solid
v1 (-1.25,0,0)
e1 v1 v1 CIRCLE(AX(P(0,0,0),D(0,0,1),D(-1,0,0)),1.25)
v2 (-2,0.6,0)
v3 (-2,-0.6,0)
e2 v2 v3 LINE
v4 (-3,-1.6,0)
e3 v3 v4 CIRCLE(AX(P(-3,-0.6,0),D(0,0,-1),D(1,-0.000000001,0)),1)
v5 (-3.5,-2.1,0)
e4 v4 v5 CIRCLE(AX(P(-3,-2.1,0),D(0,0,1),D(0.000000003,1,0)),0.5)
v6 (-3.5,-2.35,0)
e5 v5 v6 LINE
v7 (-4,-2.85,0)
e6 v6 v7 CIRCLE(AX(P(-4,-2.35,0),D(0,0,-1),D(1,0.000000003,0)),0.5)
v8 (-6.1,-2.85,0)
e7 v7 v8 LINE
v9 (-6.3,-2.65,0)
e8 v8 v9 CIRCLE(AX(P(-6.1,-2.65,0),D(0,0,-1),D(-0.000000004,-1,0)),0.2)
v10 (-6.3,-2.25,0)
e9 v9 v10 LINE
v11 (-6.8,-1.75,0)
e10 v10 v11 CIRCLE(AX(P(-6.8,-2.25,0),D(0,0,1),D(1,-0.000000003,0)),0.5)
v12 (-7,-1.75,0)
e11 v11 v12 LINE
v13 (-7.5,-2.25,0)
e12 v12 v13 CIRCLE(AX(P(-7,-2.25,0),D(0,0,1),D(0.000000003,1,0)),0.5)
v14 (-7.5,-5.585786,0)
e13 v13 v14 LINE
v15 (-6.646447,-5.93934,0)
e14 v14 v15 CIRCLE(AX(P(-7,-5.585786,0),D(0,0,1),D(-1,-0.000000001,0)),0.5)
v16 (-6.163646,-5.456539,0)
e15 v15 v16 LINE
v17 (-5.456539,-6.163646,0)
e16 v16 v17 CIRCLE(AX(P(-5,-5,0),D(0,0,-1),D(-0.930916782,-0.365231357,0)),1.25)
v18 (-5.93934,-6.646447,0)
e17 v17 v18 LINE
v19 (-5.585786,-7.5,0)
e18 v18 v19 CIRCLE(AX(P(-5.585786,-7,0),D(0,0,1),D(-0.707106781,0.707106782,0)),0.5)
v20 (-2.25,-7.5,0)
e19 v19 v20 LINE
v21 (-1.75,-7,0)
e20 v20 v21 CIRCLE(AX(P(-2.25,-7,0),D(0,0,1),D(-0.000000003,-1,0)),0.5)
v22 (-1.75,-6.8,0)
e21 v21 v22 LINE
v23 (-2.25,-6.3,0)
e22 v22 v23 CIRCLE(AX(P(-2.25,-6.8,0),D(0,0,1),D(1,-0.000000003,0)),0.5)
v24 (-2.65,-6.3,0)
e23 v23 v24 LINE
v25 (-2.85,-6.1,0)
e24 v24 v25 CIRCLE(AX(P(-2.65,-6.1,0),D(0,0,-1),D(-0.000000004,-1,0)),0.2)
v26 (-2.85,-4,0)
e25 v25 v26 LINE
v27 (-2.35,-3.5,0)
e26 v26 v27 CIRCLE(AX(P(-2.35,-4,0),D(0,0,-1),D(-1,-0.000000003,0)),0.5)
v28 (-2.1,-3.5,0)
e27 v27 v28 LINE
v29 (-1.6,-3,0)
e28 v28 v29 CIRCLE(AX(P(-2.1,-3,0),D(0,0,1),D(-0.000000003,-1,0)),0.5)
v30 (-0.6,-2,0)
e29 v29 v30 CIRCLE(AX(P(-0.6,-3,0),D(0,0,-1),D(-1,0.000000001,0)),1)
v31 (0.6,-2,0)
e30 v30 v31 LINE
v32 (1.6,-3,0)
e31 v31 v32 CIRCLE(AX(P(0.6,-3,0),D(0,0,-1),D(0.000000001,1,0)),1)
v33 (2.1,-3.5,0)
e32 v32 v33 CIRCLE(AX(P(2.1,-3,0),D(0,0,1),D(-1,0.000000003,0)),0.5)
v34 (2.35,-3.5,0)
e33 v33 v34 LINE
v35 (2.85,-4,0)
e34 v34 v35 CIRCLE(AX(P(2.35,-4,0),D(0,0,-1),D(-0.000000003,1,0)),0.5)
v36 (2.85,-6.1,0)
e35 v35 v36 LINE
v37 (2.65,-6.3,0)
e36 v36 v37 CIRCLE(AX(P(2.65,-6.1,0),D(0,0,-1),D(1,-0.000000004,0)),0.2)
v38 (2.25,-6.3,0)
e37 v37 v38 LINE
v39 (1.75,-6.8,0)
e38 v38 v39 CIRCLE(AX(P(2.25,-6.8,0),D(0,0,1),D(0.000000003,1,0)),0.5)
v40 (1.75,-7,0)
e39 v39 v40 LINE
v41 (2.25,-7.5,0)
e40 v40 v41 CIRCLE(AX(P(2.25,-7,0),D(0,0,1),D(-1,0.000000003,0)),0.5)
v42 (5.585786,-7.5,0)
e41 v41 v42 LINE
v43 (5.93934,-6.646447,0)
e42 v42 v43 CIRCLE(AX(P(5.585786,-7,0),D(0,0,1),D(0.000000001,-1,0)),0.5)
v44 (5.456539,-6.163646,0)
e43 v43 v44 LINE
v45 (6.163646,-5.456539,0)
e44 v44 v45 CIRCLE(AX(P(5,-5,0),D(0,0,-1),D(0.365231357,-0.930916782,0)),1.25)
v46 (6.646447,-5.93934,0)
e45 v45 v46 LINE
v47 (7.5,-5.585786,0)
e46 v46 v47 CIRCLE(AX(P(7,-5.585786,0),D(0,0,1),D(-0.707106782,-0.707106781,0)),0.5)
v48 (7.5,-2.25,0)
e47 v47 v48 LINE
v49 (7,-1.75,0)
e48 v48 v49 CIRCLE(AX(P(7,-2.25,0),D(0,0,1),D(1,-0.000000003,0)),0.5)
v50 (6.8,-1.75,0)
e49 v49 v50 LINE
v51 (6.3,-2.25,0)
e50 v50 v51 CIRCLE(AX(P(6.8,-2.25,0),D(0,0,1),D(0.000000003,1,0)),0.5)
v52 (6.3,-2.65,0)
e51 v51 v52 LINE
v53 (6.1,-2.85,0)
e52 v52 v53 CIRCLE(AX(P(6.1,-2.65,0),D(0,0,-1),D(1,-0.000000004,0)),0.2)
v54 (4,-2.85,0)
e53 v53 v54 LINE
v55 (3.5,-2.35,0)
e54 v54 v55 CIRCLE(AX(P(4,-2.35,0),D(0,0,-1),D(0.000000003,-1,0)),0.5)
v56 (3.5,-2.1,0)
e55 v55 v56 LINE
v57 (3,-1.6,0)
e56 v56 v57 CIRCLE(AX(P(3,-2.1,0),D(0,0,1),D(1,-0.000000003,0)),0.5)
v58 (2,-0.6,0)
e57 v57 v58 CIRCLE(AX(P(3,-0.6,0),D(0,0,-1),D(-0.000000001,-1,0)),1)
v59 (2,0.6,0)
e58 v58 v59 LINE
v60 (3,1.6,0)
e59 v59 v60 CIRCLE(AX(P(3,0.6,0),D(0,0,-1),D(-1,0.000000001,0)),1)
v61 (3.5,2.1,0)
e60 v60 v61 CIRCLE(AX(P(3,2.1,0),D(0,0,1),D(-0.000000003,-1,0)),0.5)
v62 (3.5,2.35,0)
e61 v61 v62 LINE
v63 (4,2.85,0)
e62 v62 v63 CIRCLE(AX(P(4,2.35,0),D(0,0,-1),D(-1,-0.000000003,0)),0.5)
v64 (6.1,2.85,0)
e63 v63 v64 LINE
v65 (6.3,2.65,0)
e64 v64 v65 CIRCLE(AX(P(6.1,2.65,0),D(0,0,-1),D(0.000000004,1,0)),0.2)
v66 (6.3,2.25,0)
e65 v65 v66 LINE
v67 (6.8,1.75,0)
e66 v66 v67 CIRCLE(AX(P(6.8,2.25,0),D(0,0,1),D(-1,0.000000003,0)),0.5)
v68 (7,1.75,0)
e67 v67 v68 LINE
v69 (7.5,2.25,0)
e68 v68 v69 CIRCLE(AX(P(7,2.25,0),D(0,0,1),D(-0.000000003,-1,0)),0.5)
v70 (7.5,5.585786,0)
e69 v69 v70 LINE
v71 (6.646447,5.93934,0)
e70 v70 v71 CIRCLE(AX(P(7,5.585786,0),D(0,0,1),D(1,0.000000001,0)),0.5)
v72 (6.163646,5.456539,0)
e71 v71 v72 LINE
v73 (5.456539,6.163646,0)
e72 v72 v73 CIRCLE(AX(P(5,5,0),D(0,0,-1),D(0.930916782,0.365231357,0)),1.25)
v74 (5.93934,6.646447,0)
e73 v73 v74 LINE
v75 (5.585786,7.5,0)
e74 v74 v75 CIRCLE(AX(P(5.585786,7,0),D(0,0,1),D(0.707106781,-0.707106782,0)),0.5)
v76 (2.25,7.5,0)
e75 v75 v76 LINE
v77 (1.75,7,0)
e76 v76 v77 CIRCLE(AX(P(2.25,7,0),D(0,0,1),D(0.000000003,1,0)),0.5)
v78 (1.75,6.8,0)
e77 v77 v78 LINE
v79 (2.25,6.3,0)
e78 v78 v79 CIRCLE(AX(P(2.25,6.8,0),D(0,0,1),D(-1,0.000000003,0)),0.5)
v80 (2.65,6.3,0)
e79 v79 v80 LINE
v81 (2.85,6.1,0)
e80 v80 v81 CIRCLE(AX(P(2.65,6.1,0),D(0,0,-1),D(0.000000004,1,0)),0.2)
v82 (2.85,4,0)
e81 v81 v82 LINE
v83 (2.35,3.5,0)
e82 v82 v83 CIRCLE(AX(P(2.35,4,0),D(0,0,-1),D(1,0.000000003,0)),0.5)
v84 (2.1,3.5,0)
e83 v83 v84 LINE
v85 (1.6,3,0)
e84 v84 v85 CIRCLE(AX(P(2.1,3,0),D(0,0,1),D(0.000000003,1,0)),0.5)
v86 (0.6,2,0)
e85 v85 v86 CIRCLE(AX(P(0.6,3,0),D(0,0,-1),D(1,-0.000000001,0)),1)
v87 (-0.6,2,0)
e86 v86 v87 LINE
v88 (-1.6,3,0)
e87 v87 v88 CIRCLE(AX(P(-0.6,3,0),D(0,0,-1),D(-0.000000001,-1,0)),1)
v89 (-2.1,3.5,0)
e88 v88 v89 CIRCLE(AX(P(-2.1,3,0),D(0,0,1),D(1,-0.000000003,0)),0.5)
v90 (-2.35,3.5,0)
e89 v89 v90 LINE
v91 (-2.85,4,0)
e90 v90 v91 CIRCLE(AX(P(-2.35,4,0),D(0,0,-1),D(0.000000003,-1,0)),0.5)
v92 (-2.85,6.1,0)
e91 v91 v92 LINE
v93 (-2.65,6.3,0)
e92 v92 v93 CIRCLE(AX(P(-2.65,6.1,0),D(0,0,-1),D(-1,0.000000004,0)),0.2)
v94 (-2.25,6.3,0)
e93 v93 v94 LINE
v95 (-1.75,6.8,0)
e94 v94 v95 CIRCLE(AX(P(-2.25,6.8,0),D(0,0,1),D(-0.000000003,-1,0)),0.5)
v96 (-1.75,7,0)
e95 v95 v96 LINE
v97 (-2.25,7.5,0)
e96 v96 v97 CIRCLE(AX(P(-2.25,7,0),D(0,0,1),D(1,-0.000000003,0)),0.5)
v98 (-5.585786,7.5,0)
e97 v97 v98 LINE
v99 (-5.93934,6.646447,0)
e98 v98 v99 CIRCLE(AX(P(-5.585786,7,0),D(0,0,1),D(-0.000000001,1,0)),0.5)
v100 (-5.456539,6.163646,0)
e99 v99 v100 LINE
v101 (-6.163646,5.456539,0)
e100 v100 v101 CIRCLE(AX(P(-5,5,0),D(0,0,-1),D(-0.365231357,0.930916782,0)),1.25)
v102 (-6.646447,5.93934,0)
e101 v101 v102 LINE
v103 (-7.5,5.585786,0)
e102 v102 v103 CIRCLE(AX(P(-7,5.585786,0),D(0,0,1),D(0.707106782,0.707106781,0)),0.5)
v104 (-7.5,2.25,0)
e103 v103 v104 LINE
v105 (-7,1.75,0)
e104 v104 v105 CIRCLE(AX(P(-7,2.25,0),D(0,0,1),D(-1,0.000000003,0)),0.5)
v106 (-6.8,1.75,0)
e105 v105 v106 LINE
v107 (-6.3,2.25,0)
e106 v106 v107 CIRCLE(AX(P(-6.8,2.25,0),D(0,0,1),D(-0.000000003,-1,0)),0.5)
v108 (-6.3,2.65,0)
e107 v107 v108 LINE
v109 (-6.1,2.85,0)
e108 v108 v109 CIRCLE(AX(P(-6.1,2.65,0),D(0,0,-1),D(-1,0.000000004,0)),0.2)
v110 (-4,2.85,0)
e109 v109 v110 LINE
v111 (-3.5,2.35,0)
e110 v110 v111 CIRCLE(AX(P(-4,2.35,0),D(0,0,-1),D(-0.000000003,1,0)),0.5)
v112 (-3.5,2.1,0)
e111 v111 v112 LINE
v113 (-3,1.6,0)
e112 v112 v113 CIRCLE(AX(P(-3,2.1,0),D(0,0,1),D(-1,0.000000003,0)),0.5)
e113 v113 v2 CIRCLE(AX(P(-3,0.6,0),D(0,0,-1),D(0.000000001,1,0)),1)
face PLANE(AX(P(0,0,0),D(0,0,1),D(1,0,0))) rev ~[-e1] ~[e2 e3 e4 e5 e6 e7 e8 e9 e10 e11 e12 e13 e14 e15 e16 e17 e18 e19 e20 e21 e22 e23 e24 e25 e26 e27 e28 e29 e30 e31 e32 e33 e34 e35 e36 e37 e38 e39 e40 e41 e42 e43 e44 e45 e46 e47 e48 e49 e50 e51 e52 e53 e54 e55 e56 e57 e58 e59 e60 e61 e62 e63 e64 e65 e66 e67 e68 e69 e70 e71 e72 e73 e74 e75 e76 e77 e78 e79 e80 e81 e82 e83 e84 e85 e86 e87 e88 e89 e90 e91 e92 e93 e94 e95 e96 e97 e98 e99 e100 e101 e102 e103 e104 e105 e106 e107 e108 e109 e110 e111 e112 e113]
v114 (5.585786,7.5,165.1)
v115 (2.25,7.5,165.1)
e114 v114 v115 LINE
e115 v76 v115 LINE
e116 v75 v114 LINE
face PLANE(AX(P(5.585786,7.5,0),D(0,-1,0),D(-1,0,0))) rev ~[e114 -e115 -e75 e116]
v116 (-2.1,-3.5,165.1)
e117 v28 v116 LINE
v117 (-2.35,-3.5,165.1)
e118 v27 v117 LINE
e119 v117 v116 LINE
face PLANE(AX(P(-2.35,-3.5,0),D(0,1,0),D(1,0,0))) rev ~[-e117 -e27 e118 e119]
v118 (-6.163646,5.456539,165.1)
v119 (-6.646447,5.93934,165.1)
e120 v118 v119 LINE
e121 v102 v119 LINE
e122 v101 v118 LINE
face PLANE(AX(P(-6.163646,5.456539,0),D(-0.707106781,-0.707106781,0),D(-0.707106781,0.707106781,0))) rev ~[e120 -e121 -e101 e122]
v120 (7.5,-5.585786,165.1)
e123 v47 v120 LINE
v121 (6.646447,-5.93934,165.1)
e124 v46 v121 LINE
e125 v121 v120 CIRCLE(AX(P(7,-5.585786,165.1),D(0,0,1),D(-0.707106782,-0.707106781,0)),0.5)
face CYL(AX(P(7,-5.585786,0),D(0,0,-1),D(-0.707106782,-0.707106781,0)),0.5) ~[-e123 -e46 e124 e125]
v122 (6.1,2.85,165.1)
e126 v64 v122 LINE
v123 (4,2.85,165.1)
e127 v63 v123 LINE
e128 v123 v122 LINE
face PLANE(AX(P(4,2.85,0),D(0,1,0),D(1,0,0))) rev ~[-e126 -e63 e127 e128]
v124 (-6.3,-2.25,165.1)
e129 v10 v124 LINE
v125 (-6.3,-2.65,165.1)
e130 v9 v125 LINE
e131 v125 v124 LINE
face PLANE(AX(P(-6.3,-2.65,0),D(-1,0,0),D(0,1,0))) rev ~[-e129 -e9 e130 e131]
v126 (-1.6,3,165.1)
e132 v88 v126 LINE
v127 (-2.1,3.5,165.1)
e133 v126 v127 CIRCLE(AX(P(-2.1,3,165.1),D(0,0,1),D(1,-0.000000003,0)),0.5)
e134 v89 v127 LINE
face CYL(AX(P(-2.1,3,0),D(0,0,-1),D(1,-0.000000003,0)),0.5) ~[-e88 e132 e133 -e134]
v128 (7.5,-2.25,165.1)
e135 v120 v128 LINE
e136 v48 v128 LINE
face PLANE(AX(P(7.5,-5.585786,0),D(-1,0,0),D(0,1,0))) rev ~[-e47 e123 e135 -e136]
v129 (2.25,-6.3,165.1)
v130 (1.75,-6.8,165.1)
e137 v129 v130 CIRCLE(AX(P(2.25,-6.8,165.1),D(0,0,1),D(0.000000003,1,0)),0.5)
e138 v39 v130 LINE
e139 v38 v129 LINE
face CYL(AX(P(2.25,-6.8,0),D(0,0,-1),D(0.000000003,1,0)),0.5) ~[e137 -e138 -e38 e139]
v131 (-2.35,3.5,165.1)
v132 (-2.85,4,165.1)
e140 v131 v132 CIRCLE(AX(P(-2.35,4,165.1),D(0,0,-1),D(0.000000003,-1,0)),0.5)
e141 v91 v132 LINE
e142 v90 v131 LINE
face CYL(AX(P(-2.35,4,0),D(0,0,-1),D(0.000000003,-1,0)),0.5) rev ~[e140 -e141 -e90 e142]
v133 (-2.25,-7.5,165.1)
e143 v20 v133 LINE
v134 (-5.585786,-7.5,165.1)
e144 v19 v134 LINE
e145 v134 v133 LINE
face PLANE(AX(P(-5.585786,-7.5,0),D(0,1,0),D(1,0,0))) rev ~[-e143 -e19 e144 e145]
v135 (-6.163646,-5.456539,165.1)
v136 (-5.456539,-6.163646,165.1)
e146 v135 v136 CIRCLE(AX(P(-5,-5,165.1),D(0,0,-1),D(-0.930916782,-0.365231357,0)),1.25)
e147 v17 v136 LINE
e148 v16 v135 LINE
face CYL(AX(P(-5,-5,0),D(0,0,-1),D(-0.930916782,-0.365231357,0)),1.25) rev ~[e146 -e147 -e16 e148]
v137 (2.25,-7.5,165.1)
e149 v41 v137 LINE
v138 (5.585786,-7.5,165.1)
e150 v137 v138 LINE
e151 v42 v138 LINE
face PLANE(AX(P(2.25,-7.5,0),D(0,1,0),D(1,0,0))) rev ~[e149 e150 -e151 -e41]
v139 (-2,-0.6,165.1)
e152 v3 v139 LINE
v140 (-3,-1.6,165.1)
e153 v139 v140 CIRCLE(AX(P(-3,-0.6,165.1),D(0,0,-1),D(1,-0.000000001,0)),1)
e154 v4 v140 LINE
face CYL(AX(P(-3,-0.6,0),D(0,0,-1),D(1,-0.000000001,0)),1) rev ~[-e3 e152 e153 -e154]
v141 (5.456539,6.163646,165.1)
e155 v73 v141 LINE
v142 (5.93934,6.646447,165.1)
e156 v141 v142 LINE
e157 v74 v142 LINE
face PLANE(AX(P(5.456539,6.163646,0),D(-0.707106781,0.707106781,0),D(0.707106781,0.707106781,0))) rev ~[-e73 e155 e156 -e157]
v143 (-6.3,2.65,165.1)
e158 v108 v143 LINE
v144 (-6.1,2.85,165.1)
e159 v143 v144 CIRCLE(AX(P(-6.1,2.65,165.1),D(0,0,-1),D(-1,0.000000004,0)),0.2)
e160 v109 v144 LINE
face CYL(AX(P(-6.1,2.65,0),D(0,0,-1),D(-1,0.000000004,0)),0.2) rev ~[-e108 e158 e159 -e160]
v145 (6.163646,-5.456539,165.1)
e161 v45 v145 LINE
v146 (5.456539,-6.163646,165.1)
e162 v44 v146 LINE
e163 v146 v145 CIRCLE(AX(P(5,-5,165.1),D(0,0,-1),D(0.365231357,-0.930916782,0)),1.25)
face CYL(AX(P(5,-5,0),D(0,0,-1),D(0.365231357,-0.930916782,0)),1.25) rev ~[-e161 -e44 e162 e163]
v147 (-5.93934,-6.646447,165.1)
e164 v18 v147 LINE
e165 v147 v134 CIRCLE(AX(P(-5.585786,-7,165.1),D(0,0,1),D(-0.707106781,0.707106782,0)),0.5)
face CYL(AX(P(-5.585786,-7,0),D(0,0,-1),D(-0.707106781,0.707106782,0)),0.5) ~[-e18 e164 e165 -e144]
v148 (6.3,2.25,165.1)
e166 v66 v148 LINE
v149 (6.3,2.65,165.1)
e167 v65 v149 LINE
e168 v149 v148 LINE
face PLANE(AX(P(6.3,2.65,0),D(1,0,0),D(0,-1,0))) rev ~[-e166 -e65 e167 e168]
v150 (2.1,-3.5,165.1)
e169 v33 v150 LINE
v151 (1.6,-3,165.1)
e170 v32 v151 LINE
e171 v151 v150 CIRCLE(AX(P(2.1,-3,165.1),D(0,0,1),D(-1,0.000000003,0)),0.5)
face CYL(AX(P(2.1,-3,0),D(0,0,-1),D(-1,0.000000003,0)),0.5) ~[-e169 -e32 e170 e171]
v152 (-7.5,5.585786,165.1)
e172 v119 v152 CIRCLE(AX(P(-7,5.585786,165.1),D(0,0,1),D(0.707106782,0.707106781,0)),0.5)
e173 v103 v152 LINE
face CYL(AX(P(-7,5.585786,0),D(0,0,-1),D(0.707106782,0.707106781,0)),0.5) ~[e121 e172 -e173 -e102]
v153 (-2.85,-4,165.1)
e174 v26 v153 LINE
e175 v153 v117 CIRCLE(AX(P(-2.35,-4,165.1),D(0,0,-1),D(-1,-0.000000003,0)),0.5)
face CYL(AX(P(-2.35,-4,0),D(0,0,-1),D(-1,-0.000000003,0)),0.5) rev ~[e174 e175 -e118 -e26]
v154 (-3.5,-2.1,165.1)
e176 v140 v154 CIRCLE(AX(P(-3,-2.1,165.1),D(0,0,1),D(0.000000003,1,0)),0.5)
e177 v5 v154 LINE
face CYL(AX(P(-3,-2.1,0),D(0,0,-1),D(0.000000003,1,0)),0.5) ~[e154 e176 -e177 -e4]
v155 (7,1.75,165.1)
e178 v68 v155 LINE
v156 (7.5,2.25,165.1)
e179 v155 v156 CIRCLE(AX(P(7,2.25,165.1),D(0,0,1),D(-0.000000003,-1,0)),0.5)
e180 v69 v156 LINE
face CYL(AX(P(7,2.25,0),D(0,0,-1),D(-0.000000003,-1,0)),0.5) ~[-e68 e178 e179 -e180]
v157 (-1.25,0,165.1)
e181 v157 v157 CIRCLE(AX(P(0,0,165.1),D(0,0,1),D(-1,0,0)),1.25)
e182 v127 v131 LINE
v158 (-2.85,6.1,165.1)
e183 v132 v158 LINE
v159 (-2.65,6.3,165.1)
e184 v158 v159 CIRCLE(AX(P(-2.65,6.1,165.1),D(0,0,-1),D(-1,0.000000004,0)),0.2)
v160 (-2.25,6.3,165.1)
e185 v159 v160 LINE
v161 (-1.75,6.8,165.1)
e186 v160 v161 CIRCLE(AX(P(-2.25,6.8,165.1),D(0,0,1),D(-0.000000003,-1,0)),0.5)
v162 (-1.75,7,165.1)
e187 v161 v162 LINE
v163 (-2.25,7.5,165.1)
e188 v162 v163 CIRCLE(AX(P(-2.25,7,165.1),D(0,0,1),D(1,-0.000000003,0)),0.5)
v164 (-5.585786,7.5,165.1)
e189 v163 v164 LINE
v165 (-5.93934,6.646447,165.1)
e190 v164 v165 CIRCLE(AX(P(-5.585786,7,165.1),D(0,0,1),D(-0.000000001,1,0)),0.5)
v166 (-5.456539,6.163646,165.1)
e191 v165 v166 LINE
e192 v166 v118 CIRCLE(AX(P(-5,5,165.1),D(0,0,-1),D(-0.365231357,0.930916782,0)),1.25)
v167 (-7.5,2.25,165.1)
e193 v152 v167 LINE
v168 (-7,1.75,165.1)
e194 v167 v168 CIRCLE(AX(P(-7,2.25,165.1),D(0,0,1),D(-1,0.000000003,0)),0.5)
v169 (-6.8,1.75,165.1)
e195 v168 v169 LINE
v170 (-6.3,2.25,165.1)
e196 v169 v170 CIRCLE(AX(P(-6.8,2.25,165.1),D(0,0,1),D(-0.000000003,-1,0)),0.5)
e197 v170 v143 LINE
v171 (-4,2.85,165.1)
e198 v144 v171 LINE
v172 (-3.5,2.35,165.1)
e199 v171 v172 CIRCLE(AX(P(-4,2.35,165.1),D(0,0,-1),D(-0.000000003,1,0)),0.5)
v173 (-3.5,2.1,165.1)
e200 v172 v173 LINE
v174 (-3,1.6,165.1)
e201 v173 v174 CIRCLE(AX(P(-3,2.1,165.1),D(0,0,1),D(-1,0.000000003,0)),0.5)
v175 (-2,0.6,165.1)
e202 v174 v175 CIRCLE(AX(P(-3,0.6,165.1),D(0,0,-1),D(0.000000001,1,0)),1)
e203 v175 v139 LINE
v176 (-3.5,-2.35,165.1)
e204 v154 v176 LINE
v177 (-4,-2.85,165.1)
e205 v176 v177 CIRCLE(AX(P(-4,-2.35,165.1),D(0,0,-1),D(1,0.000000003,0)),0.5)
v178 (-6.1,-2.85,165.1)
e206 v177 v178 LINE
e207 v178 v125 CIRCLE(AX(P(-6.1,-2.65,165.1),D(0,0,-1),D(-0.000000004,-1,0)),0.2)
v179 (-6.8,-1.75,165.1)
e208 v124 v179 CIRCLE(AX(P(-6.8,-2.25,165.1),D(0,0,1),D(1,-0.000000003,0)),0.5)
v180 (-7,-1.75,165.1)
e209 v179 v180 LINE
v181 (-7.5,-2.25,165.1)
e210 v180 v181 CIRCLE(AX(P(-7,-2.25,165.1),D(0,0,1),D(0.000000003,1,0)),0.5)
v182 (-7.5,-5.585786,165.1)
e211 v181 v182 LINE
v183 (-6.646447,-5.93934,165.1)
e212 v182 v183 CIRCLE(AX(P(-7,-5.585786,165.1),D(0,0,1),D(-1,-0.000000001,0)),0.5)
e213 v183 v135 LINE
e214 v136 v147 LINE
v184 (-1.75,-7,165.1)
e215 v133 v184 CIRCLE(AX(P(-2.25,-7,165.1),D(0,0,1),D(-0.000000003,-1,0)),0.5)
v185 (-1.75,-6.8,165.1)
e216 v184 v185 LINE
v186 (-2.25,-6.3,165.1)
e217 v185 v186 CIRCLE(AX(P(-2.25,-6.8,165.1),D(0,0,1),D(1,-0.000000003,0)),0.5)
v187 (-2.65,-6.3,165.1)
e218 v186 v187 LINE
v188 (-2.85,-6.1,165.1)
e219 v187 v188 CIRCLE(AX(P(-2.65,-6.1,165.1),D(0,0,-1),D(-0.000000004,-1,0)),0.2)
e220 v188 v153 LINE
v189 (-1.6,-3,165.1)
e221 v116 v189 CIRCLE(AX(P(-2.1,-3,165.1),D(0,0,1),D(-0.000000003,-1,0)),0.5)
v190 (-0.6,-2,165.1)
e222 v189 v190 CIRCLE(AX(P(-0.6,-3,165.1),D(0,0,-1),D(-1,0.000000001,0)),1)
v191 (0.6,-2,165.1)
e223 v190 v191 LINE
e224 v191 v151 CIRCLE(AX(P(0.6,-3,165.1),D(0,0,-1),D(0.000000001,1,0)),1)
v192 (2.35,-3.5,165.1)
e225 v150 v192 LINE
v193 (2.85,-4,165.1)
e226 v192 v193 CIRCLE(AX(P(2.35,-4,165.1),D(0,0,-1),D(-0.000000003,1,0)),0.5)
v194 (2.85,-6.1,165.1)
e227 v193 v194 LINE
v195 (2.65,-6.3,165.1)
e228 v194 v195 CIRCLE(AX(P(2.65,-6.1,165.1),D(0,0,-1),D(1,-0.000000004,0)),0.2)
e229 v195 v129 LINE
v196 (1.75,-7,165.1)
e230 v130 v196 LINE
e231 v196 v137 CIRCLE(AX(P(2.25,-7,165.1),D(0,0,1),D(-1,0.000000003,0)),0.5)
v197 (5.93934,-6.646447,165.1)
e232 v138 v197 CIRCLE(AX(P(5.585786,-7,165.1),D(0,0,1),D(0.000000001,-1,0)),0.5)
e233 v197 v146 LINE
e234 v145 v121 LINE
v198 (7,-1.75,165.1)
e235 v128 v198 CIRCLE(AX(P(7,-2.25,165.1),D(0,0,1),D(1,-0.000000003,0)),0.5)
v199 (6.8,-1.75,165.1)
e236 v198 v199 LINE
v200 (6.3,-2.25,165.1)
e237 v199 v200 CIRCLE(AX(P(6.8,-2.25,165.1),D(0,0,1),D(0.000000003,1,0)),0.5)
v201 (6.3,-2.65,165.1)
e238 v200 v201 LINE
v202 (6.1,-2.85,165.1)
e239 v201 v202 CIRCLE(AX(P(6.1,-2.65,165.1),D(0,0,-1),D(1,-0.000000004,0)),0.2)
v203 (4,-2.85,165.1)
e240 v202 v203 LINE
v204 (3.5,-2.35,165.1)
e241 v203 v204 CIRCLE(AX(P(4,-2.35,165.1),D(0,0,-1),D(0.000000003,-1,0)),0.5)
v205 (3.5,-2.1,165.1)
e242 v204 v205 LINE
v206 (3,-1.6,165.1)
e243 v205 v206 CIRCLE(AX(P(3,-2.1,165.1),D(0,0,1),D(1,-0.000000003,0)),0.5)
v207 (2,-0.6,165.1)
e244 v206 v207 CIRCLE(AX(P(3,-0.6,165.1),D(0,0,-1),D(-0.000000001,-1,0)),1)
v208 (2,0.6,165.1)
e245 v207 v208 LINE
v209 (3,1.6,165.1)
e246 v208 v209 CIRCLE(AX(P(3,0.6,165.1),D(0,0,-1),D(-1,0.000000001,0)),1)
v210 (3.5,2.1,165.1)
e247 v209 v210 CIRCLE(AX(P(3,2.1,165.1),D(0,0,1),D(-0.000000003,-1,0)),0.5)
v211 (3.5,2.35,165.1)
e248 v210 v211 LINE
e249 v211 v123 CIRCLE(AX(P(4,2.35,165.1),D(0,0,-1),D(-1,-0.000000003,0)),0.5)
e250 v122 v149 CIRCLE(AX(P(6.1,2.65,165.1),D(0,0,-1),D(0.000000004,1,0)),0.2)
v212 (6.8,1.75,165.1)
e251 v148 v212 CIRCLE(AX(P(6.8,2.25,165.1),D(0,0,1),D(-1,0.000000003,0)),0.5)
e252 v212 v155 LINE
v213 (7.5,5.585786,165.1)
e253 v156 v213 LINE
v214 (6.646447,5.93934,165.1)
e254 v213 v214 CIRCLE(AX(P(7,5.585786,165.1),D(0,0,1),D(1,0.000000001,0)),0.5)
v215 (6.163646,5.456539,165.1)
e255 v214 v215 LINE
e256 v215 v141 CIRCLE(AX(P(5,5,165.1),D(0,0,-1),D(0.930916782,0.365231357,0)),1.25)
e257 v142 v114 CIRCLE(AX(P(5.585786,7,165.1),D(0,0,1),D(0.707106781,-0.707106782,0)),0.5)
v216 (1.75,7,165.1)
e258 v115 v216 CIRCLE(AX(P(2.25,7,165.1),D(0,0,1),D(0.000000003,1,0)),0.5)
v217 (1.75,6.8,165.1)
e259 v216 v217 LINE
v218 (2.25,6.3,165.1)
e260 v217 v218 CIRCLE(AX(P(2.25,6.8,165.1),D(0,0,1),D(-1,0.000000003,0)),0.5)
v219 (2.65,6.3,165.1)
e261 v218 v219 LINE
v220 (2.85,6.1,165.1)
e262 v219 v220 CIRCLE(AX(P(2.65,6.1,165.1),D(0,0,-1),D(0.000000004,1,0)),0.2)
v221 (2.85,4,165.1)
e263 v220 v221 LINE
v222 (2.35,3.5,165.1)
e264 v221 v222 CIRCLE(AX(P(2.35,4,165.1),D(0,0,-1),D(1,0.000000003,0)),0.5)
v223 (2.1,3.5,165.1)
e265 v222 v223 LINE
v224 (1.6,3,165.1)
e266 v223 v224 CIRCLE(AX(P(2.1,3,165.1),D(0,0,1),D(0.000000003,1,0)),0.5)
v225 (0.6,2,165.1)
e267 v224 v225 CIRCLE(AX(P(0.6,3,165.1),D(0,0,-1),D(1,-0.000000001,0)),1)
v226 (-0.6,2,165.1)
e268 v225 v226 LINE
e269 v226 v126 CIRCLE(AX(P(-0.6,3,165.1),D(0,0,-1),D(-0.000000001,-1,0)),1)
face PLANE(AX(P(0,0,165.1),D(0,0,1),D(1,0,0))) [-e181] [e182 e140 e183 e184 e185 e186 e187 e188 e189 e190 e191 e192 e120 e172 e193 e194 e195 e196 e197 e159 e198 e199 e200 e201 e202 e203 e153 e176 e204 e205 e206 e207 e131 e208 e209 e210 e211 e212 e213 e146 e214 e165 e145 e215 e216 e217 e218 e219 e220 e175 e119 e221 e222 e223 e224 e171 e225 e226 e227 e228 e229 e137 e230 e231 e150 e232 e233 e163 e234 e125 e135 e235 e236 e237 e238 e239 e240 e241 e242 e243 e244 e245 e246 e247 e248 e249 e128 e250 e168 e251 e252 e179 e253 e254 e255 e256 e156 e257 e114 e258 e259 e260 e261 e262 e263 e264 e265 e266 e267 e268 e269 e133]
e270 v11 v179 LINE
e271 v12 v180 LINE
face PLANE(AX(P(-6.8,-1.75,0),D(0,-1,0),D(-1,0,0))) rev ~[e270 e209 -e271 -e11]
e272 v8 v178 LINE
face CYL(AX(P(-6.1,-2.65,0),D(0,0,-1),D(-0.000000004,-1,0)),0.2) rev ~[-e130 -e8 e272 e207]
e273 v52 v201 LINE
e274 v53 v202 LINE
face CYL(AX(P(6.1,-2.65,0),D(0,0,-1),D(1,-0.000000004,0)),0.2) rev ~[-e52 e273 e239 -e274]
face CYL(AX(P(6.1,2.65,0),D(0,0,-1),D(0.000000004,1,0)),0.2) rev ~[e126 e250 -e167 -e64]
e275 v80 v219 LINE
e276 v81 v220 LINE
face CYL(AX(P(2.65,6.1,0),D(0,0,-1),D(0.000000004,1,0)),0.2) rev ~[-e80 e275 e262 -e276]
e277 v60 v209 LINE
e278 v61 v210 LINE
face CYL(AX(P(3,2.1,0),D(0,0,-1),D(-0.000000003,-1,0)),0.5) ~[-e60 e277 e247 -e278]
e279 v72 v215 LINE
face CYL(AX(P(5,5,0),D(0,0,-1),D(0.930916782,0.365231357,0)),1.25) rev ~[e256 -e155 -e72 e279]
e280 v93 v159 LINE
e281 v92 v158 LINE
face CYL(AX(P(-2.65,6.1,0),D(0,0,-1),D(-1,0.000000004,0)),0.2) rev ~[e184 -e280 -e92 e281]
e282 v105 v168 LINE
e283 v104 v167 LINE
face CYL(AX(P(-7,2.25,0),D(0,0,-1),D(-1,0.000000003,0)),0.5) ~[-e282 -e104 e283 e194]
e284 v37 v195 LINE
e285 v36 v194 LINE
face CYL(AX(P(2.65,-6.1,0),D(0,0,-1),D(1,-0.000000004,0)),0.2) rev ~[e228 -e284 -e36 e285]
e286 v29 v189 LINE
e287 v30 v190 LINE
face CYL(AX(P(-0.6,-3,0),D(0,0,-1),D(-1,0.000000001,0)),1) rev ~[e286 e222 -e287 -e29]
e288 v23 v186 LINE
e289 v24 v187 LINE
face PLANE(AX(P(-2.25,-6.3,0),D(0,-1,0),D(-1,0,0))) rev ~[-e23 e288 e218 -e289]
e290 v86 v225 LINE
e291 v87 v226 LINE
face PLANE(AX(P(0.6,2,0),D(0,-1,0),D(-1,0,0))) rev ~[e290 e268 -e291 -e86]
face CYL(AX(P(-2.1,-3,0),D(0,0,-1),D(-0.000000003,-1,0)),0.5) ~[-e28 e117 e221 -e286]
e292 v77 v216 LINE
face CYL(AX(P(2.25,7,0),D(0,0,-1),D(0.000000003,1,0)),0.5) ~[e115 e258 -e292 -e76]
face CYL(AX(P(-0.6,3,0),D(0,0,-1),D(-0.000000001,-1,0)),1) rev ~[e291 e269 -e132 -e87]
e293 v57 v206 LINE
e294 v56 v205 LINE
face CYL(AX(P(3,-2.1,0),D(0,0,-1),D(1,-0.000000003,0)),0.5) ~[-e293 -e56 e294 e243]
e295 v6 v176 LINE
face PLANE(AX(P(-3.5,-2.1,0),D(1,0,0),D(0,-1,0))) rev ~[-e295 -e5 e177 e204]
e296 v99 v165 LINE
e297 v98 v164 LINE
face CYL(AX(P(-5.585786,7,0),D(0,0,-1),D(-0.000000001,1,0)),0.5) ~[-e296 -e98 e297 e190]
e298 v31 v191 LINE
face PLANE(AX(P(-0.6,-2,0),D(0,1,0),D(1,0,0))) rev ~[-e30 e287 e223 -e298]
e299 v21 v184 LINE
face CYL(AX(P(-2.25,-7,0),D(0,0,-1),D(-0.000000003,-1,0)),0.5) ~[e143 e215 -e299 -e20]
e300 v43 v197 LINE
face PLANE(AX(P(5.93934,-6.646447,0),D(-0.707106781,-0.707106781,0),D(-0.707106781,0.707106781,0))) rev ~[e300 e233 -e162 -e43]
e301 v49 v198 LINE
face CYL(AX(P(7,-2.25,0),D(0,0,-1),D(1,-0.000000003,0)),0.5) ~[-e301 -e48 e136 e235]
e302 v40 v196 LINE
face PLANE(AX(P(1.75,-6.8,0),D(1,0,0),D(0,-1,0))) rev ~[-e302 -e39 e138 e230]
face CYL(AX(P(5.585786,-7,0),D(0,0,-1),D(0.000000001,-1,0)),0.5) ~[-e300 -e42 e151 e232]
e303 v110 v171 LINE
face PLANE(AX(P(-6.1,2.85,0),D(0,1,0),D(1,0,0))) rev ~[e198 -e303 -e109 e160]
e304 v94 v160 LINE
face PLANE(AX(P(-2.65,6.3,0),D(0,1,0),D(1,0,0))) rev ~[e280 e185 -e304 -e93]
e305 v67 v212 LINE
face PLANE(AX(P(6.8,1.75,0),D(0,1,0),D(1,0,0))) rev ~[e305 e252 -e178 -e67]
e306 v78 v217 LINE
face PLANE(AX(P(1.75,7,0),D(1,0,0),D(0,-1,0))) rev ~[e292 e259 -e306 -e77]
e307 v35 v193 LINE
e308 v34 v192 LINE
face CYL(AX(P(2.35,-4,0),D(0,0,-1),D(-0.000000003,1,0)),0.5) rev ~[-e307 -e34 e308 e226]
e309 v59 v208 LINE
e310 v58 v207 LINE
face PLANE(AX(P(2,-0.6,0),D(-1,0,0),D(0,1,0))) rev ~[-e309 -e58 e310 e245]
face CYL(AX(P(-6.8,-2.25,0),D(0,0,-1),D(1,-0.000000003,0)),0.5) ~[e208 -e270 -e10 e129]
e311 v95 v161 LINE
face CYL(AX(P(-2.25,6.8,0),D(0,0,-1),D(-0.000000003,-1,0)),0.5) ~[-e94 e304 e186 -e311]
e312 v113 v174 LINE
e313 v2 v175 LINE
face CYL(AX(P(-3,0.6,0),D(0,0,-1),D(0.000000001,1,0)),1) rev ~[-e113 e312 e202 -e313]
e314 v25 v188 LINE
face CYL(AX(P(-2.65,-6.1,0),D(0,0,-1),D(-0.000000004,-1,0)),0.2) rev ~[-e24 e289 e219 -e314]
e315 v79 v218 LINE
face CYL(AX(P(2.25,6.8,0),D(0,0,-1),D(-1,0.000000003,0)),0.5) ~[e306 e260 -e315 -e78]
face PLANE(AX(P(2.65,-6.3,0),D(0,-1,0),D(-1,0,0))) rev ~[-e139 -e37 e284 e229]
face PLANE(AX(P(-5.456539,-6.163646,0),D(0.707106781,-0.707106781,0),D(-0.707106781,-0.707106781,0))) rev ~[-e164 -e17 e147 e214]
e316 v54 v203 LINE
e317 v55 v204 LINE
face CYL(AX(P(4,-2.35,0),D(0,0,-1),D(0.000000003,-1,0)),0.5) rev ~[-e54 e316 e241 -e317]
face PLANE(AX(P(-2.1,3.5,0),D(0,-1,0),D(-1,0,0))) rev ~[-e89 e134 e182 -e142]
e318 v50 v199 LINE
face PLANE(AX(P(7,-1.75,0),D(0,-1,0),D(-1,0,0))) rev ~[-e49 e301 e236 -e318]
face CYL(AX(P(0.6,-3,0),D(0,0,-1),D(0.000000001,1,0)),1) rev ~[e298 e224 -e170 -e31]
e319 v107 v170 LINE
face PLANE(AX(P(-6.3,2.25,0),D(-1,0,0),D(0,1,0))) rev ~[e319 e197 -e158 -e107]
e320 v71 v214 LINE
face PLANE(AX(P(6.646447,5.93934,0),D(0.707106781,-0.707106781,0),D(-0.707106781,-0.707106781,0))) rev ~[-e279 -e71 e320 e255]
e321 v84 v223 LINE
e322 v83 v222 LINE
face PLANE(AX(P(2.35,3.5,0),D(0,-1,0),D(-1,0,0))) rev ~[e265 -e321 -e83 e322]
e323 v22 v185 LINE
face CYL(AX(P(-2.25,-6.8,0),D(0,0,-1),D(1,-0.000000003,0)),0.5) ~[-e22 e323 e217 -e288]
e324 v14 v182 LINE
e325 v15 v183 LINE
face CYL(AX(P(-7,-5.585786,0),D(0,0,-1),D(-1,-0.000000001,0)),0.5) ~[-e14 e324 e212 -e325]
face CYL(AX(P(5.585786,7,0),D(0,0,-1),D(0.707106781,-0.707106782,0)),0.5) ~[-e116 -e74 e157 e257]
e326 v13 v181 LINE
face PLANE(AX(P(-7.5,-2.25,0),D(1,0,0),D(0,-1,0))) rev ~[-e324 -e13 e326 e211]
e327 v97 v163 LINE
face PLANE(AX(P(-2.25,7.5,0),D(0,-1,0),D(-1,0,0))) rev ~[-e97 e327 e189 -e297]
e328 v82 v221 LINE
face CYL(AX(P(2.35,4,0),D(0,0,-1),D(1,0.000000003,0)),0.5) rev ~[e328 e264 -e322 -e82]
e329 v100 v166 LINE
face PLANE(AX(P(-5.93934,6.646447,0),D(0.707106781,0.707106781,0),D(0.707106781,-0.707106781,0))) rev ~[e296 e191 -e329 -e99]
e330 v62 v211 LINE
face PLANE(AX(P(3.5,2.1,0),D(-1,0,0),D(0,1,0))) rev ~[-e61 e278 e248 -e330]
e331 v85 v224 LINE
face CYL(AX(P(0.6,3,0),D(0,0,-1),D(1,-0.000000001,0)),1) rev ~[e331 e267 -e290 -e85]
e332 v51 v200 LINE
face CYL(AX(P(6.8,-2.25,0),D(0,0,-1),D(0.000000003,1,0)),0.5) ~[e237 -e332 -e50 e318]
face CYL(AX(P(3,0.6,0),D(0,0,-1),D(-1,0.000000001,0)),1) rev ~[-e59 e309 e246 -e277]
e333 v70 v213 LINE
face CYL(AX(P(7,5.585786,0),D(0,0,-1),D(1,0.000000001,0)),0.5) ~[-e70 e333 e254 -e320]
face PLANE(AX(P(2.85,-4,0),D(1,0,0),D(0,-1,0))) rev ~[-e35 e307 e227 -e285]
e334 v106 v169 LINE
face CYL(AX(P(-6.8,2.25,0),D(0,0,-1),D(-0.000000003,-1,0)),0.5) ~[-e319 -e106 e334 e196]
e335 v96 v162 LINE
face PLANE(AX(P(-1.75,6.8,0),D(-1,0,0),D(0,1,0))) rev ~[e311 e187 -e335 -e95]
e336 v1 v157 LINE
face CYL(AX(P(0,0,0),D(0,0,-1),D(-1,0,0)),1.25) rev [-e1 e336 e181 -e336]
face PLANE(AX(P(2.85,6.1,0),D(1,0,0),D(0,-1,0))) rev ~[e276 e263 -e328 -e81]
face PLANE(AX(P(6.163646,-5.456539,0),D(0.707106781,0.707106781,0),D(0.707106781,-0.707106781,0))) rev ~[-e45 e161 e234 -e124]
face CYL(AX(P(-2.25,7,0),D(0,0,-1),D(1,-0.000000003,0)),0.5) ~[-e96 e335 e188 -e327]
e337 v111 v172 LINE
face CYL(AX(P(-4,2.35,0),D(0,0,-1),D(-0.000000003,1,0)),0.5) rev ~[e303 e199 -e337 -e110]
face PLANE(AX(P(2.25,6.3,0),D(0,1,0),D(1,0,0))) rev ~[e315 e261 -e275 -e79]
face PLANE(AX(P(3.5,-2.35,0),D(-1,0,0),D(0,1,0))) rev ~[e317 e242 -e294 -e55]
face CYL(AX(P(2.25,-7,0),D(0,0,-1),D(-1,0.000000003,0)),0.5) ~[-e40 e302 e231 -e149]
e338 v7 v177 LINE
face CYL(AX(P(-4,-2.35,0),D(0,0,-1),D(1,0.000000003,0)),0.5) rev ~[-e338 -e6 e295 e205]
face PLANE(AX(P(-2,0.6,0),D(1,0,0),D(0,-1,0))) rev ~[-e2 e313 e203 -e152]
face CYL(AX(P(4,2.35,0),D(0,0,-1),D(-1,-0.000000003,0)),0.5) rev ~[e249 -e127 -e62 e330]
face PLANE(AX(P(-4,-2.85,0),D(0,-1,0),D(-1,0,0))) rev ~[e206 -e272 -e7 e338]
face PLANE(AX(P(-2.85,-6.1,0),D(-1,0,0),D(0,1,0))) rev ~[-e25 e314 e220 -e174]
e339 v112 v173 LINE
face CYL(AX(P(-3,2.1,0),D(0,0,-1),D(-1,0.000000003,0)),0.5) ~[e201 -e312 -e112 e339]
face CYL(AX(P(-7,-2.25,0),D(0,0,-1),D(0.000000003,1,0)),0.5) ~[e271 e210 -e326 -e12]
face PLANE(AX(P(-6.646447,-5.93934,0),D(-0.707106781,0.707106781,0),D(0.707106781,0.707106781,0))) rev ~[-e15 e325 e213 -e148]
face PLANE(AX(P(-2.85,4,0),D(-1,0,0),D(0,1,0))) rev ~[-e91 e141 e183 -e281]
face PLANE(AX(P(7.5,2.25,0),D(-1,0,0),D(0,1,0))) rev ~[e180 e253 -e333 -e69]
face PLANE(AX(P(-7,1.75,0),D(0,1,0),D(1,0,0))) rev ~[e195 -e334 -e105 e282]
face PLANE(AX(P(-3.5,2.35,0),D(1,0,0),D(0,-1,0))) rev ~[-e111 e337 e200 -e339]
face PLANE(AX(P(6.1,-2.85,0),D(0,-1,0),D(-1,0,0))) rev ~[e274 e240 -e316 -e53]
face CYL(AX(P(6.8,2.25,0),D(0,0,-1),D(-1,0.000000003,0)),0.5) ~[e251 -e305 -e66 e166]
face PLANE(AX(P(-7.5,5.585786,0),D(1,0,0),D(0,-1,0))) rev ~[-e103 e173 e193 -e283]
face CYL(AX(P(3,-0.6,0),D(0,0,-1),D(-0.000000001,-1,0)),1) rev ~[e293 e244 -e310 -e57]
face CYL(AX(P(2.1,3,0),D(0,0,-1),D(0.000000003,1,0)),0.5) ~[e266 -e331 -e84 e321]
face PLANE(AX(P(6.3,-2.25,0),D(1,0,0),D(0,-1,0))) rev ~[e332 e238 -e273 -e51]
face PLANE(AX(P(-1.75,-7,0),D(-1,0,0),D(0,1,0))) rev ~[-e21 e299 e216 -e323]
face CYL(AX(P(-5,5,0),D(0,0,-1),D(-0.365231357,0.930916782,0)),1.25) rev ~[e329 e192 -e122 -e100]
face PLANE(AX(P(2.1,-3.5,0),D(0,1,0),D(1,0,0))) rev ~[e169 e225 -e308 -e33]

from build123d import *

# Parameters (mm, degrees)
SKETCH1_R           = 1.25
BOSS_EXTRUDE1_DEPTH = 165.1


with BuildPart() as part:
    # Sketch1 → Boss-Extrude1 (new body)
    with BuildSketch(Plane.XY):
        with BuildLine():
            Line((6.646446609, 5.939339828), (6.163645978, 5.456539197))
            ThreePointArc((6.163645978, 5.456539197), (4.116116524, 4.116116524), (5.456539197, 6.163645978))
            Line((5.456539197, 6.163645978), (5.939339828, 6.646446609))
            ThreePointArc((5.939339828, 6.646446609), (6.047726204, 7.191341716), (5.585786438, 7.5))
            Line((5.585786438, 7.5), (2.25, 7.5))
            ThreePointArc((2.25, 7.5), (1.896446609, 7.353553391), (1.75, 7))
            Line((1.75, 7), (1.75, 6.8))
            ThreePointArc((1.75, 6.8), (1.896446609, 6.446446609), (2.25, 6.3))
            Line((2.25, 6.3), (2.65, 6.3))
            ThreePointArc((2.65, 6.3), (2.791421356, 6.241421356), (2.85, 6.1))
            Line((2.85, 6.1), (2.85, 4))
            ThreePointArc((2.85, 4), (2.703553391, 3.646446609), (2.35, 3.5))
            Line((2.35, 3.5), (2.1, 3.5))
            ThreePointArc((2.1, 3.5), (1.746446609, 3.353553391), (1.6, 3))
            ThreePointArc((1.6, 3), (1.307106781, 2.292893219), (0.6, 2))
            Line((0.6, 2), (-0.6, 2))
            ThreePointArc((-0.6, 2), (-1.307106781, 2.292893219), (-1.6, 3))
            ThreePointArc((-1.6, 3), (-1.746446609, 3.353553391), (-2.1, 3.5))
            Line((-2.1, 3.5), (-2.35, 3.5))
            ThreePointArc((-2.35, 3.5), (-2.703553391, 3.646446609), (-2.85, 4))
            Line((-2.85, 4), (-2.85, 6.1))
            ThreePointArc((-2.85, 6.1), (-2.791421356, 6.241421356), (-2.65, 6.3))
            Line((-2.65, 6.3), (-2.25, 6.3))
            ThreePointArc((-2.25, 6.3), (-1.896446609, 6.446446609), (-1.75, 6.8))
            Line((-1.75, 6.8), (-1.75, 7))
            ThreePointArc((-1.75, 7), (-1.896446609, 7.353553391), (-2.25, 7.5))
            Line((-2.25, 7.5), (-5.585786438, 7.5))
            ThreePointArc((-5.585786438, 7.5), (-6.047726204, 7.191341716), (-5.939339828, 6.646446609))
            Line((-5.939339828, 6.646446609), (-5.456539197, 6.163645978))
            ThreePointArc((-5.456539197, 6.163645978), (-4.116116524, 4.116116524), (-6.163645978, 5.456539197))
            Line((-6.163645978, 5.456539197), (-6.646446609, 5.939339828))
            ThreePointArc((-6.646446609, 5.939339828), (-7.191341716, 6.047726204), (-7.5, 5.585786438))
            Line((-7.5, 5.585786438), (-7.5, 2.25))
            ThreePointArc((-7.5, 2.25), (-7.353553391, 1.896446609), (-7, 1.75))
            Line((-7, 1.75), (-6.8, 1.75))
            ThreePointArc((-6.8, 1.75), (-6.446446609, 1.896446609), (-6.3, 2.25))
            Line((-6.3, 2.25), (-6.3, 2.65))
            ThreePointArc((-6.3, 2.65), (-6.241421356, 2.791421356), (-6.1, 2.85))
            Line((-6.1, 2.85), (-4, 2.85))
            ThreePointArc((-4, 2.85), (-3.646446609, 2.703553391), (-3.5, 2.35))
            Line((-3.5, 2.35), (-3.5, 2.1))
            ThreePointArc((-3.5, 2.1), (-3.353553391, 1.746446609), (-3, 1.6))
            ThreePointArc((-3, 1.6), (-2.292893219, 1.307106781), (-2, 0.6))
            Line((-2, 0.6), (-2, -0.6))
            ThreePointArc((-2, -0.6), (-2.292893219, -1.307106781), (-3, -1.6))
            ThreePointArc((-3, -1.6), (-3.353553391, -1.746446609), (-3.5, -2.1))
            Line((-3.5, -2.1), (-3.5, -2.35))
            ThreePointArc((-3.5, -2.35), (-3.646446609, -2.703553391), (-4, -2.85))
            Line((-4, -2.85), (-6.1, -2.85))
            ThreePointArc((-6.1, -2.85), (-6.241421356, -2.791421356), (-6.3, -2.65))
            Line((-6.3, -2.65), (-6.3, -2.25))
            ThreePointArc((-6.3, -2.25), (-6.446446609, -1.896446609), (-6.8, -1.75))
            Line((-6.8, -1.75), (-7, -1.75))
            ThreePointArc((-7, -1.75), (-7.353553391, -1.896446609), (-7.5, -2.25))
            Line((-7.5, -2.25), (-7.5, -5.585786438))
            ThreePointArc((-7.5, -5.585786438), (-7.191341716, -6.047726204), (-6.646446609, -5.939339828))
            Line((-6.646446609, -5.939339828), (-6.163645978, -5.456539197))
            ThreePointArc((-6.163645978, -5.456539197), (-4.116116524, -4.116116524), (-5.456539197, -6.163645978))
            Line((-5.456539197, -6.163645978), (-5.939339828, -6.646446609))
            ThreePointArc((-5.939339828, -6.646446609), (-6.047726204, -7.191341716), (-5.585786438, -7.5))
            Line((-5.585786438, -7.5), (-2.25, -7.5))
            ThreePointArc((-2.25, -7.5), (-1.896446609, -7.353553391), (-1.75, -7))
            Line((-1.75, -7), (-1.75, -6.8))
            ThreePointArc((-1.75, -6.8), (-1.896446609, -6.446446609), (-2.25, -6.3))
            Line((-2.25, -6.3), (-2.65, -6.3))
            ThreePointArc((-2.65, -6.3), (-2.791421356, -6.241421356), (-2.85, -6.1))
            Line((-2.85, -6.1), (-2.85, -4))
            ThreePointArc((-2.85, -4), (-2.703553391, -3.646446609), (-2.35, -3.5))
            Line((-2.35, -3.5), (-2.1, -3.5))
            ThreePointArc((-2.1, -3.5), (-1.746446609, -3.353553391), (-1.6, -3))
            ThreePointArc((-1.6, -3), (-1.307106781, -2.292893219), (-0.6, -2))
            Line((-0.6, -2), (0.6, -2))
            ThreePointArc((0.6, -2), (1.307106781, -2.292893219), (1.6, -3))
            ThreePointArc((1.6, -3), (1.746446609, -3.353553391), (2.1, -3.5))
            Line((2.1, -3.5), (2.35, -3.5))
            ThreePointArc((2.35, -3.5), (2.703553391, -3.646446609), (2.85, -4))
            Line((2.85, -4), (2.85, -6.1))
            ThreePointArc((2.85, -6.1), (2.791421356, -6.241421356), (2.65, -6.3))
            Line((2.65, -6.3), (2.25, -6.3))
            ThreePointArc((2.25, -6.3), (1.896446609, -6.446446609), (1.75, -6.8))
            Line((1.75, -6.8), (1.75, -7))
            ThreePointArc((1.75, -7), (1.896446609, -7.353553391), (2.25, -7.5))
            Line((2.25, -7.5), (5.585786438, -7.5))
            ThreePointArc((5.585786438, -7.5), (6.047726204, -7.191341716), (5.939339828, -6.646446609))
            Line((5.939339828, -6.646446609), (5.456539197, -6.163645978))
            ThreePointArc((5.456539197, -6.163645978), (4.116116524, -4.116116524), (6.163645978, -5.456539197))
            Line((6.163645978, -5.456539197), (6.646446609, -5.939339828))
            ThreePointArc((6.646446609, -5.939339828), (7.191341716, -6.047726204), (7.5, -5.585786438))
            Line((7.5, -5.585786438), (7.5, -2.25))
            ThreePointArc((7.5, -2.25), (7.353553391, -1.896446609), (7, -1.75))
            Line((7, -1.75), (6.8, -1.75))
            ThreePointArc((6.8, -1.75), (6.446446609, -1.896446609), (6.3, -2.25))
            Line((6.3, -2.25), (6.3, -2.65))
            ThreePointArc((6.3, -2.65), (6.241421356, -2.791421356), (6.1, -2.85))
            Line((6.1, -2.85), (4, -2.85))
            ThreePointArc((4, -2.85), (3.646446609, -2.703553391), (3.5, -2.35))
            Line((3.5, -2.35), (3.5, -2.1))
            ThreePointArc((3.5, -2.1), (3.353553391, -1.746446609), (3, -1.6))
            ThreePointArc((3, -1.6), (2.292893219, -1.307106781), (2, -0.6))
            Line((2, -0.6), (2, 0.6))
            ThreePointArc((2, 0.6), (2.292893219, 1.307106781), (3, 1.6))
            ThreePointArc((3, 1.6), (3.353553391, 1.746446609), (3.5, 2.1))
            Line((3.5, 2.1), (3.5, 2.35))
            ThreePointArc((3.5, 2.35), (3.646446609, 2.703553391), (4, 2.85))
            Line((4, 2.85), (6.1, 2.85))
            ThreePointArc((6.1, 2.85), (6.241421356, 2.791421356), (6.3, 2.65))
            Line((6.3, 2.65), (6.3, 2.25))
            ThreePointArc((6.3, 2.25), (6.446446609, 1.896446609), (6.8, 1.75))
            Line((6.8, 1.75), (7, 1.75))
            ThreePointArc((7, 1.75), (7.353553391, 1.896446609), (7.5, 2.25))
            Line((7.5, 2.25), (7.5, 5.585786438))
            ThreePointArc((7.5, 5.585786438), (7.191341716, 6.047726204), (6.646446609, 5.939339828))
        make_face()
        with Locations(Location((0, 0, 0), (0, 0, 180))):
            Circle(SKETCH1_R, mode=Mode.SUBTRACT)
    extrude(amount=BOSS_EXTRUDE1_DEPTH)


solid = part.part
